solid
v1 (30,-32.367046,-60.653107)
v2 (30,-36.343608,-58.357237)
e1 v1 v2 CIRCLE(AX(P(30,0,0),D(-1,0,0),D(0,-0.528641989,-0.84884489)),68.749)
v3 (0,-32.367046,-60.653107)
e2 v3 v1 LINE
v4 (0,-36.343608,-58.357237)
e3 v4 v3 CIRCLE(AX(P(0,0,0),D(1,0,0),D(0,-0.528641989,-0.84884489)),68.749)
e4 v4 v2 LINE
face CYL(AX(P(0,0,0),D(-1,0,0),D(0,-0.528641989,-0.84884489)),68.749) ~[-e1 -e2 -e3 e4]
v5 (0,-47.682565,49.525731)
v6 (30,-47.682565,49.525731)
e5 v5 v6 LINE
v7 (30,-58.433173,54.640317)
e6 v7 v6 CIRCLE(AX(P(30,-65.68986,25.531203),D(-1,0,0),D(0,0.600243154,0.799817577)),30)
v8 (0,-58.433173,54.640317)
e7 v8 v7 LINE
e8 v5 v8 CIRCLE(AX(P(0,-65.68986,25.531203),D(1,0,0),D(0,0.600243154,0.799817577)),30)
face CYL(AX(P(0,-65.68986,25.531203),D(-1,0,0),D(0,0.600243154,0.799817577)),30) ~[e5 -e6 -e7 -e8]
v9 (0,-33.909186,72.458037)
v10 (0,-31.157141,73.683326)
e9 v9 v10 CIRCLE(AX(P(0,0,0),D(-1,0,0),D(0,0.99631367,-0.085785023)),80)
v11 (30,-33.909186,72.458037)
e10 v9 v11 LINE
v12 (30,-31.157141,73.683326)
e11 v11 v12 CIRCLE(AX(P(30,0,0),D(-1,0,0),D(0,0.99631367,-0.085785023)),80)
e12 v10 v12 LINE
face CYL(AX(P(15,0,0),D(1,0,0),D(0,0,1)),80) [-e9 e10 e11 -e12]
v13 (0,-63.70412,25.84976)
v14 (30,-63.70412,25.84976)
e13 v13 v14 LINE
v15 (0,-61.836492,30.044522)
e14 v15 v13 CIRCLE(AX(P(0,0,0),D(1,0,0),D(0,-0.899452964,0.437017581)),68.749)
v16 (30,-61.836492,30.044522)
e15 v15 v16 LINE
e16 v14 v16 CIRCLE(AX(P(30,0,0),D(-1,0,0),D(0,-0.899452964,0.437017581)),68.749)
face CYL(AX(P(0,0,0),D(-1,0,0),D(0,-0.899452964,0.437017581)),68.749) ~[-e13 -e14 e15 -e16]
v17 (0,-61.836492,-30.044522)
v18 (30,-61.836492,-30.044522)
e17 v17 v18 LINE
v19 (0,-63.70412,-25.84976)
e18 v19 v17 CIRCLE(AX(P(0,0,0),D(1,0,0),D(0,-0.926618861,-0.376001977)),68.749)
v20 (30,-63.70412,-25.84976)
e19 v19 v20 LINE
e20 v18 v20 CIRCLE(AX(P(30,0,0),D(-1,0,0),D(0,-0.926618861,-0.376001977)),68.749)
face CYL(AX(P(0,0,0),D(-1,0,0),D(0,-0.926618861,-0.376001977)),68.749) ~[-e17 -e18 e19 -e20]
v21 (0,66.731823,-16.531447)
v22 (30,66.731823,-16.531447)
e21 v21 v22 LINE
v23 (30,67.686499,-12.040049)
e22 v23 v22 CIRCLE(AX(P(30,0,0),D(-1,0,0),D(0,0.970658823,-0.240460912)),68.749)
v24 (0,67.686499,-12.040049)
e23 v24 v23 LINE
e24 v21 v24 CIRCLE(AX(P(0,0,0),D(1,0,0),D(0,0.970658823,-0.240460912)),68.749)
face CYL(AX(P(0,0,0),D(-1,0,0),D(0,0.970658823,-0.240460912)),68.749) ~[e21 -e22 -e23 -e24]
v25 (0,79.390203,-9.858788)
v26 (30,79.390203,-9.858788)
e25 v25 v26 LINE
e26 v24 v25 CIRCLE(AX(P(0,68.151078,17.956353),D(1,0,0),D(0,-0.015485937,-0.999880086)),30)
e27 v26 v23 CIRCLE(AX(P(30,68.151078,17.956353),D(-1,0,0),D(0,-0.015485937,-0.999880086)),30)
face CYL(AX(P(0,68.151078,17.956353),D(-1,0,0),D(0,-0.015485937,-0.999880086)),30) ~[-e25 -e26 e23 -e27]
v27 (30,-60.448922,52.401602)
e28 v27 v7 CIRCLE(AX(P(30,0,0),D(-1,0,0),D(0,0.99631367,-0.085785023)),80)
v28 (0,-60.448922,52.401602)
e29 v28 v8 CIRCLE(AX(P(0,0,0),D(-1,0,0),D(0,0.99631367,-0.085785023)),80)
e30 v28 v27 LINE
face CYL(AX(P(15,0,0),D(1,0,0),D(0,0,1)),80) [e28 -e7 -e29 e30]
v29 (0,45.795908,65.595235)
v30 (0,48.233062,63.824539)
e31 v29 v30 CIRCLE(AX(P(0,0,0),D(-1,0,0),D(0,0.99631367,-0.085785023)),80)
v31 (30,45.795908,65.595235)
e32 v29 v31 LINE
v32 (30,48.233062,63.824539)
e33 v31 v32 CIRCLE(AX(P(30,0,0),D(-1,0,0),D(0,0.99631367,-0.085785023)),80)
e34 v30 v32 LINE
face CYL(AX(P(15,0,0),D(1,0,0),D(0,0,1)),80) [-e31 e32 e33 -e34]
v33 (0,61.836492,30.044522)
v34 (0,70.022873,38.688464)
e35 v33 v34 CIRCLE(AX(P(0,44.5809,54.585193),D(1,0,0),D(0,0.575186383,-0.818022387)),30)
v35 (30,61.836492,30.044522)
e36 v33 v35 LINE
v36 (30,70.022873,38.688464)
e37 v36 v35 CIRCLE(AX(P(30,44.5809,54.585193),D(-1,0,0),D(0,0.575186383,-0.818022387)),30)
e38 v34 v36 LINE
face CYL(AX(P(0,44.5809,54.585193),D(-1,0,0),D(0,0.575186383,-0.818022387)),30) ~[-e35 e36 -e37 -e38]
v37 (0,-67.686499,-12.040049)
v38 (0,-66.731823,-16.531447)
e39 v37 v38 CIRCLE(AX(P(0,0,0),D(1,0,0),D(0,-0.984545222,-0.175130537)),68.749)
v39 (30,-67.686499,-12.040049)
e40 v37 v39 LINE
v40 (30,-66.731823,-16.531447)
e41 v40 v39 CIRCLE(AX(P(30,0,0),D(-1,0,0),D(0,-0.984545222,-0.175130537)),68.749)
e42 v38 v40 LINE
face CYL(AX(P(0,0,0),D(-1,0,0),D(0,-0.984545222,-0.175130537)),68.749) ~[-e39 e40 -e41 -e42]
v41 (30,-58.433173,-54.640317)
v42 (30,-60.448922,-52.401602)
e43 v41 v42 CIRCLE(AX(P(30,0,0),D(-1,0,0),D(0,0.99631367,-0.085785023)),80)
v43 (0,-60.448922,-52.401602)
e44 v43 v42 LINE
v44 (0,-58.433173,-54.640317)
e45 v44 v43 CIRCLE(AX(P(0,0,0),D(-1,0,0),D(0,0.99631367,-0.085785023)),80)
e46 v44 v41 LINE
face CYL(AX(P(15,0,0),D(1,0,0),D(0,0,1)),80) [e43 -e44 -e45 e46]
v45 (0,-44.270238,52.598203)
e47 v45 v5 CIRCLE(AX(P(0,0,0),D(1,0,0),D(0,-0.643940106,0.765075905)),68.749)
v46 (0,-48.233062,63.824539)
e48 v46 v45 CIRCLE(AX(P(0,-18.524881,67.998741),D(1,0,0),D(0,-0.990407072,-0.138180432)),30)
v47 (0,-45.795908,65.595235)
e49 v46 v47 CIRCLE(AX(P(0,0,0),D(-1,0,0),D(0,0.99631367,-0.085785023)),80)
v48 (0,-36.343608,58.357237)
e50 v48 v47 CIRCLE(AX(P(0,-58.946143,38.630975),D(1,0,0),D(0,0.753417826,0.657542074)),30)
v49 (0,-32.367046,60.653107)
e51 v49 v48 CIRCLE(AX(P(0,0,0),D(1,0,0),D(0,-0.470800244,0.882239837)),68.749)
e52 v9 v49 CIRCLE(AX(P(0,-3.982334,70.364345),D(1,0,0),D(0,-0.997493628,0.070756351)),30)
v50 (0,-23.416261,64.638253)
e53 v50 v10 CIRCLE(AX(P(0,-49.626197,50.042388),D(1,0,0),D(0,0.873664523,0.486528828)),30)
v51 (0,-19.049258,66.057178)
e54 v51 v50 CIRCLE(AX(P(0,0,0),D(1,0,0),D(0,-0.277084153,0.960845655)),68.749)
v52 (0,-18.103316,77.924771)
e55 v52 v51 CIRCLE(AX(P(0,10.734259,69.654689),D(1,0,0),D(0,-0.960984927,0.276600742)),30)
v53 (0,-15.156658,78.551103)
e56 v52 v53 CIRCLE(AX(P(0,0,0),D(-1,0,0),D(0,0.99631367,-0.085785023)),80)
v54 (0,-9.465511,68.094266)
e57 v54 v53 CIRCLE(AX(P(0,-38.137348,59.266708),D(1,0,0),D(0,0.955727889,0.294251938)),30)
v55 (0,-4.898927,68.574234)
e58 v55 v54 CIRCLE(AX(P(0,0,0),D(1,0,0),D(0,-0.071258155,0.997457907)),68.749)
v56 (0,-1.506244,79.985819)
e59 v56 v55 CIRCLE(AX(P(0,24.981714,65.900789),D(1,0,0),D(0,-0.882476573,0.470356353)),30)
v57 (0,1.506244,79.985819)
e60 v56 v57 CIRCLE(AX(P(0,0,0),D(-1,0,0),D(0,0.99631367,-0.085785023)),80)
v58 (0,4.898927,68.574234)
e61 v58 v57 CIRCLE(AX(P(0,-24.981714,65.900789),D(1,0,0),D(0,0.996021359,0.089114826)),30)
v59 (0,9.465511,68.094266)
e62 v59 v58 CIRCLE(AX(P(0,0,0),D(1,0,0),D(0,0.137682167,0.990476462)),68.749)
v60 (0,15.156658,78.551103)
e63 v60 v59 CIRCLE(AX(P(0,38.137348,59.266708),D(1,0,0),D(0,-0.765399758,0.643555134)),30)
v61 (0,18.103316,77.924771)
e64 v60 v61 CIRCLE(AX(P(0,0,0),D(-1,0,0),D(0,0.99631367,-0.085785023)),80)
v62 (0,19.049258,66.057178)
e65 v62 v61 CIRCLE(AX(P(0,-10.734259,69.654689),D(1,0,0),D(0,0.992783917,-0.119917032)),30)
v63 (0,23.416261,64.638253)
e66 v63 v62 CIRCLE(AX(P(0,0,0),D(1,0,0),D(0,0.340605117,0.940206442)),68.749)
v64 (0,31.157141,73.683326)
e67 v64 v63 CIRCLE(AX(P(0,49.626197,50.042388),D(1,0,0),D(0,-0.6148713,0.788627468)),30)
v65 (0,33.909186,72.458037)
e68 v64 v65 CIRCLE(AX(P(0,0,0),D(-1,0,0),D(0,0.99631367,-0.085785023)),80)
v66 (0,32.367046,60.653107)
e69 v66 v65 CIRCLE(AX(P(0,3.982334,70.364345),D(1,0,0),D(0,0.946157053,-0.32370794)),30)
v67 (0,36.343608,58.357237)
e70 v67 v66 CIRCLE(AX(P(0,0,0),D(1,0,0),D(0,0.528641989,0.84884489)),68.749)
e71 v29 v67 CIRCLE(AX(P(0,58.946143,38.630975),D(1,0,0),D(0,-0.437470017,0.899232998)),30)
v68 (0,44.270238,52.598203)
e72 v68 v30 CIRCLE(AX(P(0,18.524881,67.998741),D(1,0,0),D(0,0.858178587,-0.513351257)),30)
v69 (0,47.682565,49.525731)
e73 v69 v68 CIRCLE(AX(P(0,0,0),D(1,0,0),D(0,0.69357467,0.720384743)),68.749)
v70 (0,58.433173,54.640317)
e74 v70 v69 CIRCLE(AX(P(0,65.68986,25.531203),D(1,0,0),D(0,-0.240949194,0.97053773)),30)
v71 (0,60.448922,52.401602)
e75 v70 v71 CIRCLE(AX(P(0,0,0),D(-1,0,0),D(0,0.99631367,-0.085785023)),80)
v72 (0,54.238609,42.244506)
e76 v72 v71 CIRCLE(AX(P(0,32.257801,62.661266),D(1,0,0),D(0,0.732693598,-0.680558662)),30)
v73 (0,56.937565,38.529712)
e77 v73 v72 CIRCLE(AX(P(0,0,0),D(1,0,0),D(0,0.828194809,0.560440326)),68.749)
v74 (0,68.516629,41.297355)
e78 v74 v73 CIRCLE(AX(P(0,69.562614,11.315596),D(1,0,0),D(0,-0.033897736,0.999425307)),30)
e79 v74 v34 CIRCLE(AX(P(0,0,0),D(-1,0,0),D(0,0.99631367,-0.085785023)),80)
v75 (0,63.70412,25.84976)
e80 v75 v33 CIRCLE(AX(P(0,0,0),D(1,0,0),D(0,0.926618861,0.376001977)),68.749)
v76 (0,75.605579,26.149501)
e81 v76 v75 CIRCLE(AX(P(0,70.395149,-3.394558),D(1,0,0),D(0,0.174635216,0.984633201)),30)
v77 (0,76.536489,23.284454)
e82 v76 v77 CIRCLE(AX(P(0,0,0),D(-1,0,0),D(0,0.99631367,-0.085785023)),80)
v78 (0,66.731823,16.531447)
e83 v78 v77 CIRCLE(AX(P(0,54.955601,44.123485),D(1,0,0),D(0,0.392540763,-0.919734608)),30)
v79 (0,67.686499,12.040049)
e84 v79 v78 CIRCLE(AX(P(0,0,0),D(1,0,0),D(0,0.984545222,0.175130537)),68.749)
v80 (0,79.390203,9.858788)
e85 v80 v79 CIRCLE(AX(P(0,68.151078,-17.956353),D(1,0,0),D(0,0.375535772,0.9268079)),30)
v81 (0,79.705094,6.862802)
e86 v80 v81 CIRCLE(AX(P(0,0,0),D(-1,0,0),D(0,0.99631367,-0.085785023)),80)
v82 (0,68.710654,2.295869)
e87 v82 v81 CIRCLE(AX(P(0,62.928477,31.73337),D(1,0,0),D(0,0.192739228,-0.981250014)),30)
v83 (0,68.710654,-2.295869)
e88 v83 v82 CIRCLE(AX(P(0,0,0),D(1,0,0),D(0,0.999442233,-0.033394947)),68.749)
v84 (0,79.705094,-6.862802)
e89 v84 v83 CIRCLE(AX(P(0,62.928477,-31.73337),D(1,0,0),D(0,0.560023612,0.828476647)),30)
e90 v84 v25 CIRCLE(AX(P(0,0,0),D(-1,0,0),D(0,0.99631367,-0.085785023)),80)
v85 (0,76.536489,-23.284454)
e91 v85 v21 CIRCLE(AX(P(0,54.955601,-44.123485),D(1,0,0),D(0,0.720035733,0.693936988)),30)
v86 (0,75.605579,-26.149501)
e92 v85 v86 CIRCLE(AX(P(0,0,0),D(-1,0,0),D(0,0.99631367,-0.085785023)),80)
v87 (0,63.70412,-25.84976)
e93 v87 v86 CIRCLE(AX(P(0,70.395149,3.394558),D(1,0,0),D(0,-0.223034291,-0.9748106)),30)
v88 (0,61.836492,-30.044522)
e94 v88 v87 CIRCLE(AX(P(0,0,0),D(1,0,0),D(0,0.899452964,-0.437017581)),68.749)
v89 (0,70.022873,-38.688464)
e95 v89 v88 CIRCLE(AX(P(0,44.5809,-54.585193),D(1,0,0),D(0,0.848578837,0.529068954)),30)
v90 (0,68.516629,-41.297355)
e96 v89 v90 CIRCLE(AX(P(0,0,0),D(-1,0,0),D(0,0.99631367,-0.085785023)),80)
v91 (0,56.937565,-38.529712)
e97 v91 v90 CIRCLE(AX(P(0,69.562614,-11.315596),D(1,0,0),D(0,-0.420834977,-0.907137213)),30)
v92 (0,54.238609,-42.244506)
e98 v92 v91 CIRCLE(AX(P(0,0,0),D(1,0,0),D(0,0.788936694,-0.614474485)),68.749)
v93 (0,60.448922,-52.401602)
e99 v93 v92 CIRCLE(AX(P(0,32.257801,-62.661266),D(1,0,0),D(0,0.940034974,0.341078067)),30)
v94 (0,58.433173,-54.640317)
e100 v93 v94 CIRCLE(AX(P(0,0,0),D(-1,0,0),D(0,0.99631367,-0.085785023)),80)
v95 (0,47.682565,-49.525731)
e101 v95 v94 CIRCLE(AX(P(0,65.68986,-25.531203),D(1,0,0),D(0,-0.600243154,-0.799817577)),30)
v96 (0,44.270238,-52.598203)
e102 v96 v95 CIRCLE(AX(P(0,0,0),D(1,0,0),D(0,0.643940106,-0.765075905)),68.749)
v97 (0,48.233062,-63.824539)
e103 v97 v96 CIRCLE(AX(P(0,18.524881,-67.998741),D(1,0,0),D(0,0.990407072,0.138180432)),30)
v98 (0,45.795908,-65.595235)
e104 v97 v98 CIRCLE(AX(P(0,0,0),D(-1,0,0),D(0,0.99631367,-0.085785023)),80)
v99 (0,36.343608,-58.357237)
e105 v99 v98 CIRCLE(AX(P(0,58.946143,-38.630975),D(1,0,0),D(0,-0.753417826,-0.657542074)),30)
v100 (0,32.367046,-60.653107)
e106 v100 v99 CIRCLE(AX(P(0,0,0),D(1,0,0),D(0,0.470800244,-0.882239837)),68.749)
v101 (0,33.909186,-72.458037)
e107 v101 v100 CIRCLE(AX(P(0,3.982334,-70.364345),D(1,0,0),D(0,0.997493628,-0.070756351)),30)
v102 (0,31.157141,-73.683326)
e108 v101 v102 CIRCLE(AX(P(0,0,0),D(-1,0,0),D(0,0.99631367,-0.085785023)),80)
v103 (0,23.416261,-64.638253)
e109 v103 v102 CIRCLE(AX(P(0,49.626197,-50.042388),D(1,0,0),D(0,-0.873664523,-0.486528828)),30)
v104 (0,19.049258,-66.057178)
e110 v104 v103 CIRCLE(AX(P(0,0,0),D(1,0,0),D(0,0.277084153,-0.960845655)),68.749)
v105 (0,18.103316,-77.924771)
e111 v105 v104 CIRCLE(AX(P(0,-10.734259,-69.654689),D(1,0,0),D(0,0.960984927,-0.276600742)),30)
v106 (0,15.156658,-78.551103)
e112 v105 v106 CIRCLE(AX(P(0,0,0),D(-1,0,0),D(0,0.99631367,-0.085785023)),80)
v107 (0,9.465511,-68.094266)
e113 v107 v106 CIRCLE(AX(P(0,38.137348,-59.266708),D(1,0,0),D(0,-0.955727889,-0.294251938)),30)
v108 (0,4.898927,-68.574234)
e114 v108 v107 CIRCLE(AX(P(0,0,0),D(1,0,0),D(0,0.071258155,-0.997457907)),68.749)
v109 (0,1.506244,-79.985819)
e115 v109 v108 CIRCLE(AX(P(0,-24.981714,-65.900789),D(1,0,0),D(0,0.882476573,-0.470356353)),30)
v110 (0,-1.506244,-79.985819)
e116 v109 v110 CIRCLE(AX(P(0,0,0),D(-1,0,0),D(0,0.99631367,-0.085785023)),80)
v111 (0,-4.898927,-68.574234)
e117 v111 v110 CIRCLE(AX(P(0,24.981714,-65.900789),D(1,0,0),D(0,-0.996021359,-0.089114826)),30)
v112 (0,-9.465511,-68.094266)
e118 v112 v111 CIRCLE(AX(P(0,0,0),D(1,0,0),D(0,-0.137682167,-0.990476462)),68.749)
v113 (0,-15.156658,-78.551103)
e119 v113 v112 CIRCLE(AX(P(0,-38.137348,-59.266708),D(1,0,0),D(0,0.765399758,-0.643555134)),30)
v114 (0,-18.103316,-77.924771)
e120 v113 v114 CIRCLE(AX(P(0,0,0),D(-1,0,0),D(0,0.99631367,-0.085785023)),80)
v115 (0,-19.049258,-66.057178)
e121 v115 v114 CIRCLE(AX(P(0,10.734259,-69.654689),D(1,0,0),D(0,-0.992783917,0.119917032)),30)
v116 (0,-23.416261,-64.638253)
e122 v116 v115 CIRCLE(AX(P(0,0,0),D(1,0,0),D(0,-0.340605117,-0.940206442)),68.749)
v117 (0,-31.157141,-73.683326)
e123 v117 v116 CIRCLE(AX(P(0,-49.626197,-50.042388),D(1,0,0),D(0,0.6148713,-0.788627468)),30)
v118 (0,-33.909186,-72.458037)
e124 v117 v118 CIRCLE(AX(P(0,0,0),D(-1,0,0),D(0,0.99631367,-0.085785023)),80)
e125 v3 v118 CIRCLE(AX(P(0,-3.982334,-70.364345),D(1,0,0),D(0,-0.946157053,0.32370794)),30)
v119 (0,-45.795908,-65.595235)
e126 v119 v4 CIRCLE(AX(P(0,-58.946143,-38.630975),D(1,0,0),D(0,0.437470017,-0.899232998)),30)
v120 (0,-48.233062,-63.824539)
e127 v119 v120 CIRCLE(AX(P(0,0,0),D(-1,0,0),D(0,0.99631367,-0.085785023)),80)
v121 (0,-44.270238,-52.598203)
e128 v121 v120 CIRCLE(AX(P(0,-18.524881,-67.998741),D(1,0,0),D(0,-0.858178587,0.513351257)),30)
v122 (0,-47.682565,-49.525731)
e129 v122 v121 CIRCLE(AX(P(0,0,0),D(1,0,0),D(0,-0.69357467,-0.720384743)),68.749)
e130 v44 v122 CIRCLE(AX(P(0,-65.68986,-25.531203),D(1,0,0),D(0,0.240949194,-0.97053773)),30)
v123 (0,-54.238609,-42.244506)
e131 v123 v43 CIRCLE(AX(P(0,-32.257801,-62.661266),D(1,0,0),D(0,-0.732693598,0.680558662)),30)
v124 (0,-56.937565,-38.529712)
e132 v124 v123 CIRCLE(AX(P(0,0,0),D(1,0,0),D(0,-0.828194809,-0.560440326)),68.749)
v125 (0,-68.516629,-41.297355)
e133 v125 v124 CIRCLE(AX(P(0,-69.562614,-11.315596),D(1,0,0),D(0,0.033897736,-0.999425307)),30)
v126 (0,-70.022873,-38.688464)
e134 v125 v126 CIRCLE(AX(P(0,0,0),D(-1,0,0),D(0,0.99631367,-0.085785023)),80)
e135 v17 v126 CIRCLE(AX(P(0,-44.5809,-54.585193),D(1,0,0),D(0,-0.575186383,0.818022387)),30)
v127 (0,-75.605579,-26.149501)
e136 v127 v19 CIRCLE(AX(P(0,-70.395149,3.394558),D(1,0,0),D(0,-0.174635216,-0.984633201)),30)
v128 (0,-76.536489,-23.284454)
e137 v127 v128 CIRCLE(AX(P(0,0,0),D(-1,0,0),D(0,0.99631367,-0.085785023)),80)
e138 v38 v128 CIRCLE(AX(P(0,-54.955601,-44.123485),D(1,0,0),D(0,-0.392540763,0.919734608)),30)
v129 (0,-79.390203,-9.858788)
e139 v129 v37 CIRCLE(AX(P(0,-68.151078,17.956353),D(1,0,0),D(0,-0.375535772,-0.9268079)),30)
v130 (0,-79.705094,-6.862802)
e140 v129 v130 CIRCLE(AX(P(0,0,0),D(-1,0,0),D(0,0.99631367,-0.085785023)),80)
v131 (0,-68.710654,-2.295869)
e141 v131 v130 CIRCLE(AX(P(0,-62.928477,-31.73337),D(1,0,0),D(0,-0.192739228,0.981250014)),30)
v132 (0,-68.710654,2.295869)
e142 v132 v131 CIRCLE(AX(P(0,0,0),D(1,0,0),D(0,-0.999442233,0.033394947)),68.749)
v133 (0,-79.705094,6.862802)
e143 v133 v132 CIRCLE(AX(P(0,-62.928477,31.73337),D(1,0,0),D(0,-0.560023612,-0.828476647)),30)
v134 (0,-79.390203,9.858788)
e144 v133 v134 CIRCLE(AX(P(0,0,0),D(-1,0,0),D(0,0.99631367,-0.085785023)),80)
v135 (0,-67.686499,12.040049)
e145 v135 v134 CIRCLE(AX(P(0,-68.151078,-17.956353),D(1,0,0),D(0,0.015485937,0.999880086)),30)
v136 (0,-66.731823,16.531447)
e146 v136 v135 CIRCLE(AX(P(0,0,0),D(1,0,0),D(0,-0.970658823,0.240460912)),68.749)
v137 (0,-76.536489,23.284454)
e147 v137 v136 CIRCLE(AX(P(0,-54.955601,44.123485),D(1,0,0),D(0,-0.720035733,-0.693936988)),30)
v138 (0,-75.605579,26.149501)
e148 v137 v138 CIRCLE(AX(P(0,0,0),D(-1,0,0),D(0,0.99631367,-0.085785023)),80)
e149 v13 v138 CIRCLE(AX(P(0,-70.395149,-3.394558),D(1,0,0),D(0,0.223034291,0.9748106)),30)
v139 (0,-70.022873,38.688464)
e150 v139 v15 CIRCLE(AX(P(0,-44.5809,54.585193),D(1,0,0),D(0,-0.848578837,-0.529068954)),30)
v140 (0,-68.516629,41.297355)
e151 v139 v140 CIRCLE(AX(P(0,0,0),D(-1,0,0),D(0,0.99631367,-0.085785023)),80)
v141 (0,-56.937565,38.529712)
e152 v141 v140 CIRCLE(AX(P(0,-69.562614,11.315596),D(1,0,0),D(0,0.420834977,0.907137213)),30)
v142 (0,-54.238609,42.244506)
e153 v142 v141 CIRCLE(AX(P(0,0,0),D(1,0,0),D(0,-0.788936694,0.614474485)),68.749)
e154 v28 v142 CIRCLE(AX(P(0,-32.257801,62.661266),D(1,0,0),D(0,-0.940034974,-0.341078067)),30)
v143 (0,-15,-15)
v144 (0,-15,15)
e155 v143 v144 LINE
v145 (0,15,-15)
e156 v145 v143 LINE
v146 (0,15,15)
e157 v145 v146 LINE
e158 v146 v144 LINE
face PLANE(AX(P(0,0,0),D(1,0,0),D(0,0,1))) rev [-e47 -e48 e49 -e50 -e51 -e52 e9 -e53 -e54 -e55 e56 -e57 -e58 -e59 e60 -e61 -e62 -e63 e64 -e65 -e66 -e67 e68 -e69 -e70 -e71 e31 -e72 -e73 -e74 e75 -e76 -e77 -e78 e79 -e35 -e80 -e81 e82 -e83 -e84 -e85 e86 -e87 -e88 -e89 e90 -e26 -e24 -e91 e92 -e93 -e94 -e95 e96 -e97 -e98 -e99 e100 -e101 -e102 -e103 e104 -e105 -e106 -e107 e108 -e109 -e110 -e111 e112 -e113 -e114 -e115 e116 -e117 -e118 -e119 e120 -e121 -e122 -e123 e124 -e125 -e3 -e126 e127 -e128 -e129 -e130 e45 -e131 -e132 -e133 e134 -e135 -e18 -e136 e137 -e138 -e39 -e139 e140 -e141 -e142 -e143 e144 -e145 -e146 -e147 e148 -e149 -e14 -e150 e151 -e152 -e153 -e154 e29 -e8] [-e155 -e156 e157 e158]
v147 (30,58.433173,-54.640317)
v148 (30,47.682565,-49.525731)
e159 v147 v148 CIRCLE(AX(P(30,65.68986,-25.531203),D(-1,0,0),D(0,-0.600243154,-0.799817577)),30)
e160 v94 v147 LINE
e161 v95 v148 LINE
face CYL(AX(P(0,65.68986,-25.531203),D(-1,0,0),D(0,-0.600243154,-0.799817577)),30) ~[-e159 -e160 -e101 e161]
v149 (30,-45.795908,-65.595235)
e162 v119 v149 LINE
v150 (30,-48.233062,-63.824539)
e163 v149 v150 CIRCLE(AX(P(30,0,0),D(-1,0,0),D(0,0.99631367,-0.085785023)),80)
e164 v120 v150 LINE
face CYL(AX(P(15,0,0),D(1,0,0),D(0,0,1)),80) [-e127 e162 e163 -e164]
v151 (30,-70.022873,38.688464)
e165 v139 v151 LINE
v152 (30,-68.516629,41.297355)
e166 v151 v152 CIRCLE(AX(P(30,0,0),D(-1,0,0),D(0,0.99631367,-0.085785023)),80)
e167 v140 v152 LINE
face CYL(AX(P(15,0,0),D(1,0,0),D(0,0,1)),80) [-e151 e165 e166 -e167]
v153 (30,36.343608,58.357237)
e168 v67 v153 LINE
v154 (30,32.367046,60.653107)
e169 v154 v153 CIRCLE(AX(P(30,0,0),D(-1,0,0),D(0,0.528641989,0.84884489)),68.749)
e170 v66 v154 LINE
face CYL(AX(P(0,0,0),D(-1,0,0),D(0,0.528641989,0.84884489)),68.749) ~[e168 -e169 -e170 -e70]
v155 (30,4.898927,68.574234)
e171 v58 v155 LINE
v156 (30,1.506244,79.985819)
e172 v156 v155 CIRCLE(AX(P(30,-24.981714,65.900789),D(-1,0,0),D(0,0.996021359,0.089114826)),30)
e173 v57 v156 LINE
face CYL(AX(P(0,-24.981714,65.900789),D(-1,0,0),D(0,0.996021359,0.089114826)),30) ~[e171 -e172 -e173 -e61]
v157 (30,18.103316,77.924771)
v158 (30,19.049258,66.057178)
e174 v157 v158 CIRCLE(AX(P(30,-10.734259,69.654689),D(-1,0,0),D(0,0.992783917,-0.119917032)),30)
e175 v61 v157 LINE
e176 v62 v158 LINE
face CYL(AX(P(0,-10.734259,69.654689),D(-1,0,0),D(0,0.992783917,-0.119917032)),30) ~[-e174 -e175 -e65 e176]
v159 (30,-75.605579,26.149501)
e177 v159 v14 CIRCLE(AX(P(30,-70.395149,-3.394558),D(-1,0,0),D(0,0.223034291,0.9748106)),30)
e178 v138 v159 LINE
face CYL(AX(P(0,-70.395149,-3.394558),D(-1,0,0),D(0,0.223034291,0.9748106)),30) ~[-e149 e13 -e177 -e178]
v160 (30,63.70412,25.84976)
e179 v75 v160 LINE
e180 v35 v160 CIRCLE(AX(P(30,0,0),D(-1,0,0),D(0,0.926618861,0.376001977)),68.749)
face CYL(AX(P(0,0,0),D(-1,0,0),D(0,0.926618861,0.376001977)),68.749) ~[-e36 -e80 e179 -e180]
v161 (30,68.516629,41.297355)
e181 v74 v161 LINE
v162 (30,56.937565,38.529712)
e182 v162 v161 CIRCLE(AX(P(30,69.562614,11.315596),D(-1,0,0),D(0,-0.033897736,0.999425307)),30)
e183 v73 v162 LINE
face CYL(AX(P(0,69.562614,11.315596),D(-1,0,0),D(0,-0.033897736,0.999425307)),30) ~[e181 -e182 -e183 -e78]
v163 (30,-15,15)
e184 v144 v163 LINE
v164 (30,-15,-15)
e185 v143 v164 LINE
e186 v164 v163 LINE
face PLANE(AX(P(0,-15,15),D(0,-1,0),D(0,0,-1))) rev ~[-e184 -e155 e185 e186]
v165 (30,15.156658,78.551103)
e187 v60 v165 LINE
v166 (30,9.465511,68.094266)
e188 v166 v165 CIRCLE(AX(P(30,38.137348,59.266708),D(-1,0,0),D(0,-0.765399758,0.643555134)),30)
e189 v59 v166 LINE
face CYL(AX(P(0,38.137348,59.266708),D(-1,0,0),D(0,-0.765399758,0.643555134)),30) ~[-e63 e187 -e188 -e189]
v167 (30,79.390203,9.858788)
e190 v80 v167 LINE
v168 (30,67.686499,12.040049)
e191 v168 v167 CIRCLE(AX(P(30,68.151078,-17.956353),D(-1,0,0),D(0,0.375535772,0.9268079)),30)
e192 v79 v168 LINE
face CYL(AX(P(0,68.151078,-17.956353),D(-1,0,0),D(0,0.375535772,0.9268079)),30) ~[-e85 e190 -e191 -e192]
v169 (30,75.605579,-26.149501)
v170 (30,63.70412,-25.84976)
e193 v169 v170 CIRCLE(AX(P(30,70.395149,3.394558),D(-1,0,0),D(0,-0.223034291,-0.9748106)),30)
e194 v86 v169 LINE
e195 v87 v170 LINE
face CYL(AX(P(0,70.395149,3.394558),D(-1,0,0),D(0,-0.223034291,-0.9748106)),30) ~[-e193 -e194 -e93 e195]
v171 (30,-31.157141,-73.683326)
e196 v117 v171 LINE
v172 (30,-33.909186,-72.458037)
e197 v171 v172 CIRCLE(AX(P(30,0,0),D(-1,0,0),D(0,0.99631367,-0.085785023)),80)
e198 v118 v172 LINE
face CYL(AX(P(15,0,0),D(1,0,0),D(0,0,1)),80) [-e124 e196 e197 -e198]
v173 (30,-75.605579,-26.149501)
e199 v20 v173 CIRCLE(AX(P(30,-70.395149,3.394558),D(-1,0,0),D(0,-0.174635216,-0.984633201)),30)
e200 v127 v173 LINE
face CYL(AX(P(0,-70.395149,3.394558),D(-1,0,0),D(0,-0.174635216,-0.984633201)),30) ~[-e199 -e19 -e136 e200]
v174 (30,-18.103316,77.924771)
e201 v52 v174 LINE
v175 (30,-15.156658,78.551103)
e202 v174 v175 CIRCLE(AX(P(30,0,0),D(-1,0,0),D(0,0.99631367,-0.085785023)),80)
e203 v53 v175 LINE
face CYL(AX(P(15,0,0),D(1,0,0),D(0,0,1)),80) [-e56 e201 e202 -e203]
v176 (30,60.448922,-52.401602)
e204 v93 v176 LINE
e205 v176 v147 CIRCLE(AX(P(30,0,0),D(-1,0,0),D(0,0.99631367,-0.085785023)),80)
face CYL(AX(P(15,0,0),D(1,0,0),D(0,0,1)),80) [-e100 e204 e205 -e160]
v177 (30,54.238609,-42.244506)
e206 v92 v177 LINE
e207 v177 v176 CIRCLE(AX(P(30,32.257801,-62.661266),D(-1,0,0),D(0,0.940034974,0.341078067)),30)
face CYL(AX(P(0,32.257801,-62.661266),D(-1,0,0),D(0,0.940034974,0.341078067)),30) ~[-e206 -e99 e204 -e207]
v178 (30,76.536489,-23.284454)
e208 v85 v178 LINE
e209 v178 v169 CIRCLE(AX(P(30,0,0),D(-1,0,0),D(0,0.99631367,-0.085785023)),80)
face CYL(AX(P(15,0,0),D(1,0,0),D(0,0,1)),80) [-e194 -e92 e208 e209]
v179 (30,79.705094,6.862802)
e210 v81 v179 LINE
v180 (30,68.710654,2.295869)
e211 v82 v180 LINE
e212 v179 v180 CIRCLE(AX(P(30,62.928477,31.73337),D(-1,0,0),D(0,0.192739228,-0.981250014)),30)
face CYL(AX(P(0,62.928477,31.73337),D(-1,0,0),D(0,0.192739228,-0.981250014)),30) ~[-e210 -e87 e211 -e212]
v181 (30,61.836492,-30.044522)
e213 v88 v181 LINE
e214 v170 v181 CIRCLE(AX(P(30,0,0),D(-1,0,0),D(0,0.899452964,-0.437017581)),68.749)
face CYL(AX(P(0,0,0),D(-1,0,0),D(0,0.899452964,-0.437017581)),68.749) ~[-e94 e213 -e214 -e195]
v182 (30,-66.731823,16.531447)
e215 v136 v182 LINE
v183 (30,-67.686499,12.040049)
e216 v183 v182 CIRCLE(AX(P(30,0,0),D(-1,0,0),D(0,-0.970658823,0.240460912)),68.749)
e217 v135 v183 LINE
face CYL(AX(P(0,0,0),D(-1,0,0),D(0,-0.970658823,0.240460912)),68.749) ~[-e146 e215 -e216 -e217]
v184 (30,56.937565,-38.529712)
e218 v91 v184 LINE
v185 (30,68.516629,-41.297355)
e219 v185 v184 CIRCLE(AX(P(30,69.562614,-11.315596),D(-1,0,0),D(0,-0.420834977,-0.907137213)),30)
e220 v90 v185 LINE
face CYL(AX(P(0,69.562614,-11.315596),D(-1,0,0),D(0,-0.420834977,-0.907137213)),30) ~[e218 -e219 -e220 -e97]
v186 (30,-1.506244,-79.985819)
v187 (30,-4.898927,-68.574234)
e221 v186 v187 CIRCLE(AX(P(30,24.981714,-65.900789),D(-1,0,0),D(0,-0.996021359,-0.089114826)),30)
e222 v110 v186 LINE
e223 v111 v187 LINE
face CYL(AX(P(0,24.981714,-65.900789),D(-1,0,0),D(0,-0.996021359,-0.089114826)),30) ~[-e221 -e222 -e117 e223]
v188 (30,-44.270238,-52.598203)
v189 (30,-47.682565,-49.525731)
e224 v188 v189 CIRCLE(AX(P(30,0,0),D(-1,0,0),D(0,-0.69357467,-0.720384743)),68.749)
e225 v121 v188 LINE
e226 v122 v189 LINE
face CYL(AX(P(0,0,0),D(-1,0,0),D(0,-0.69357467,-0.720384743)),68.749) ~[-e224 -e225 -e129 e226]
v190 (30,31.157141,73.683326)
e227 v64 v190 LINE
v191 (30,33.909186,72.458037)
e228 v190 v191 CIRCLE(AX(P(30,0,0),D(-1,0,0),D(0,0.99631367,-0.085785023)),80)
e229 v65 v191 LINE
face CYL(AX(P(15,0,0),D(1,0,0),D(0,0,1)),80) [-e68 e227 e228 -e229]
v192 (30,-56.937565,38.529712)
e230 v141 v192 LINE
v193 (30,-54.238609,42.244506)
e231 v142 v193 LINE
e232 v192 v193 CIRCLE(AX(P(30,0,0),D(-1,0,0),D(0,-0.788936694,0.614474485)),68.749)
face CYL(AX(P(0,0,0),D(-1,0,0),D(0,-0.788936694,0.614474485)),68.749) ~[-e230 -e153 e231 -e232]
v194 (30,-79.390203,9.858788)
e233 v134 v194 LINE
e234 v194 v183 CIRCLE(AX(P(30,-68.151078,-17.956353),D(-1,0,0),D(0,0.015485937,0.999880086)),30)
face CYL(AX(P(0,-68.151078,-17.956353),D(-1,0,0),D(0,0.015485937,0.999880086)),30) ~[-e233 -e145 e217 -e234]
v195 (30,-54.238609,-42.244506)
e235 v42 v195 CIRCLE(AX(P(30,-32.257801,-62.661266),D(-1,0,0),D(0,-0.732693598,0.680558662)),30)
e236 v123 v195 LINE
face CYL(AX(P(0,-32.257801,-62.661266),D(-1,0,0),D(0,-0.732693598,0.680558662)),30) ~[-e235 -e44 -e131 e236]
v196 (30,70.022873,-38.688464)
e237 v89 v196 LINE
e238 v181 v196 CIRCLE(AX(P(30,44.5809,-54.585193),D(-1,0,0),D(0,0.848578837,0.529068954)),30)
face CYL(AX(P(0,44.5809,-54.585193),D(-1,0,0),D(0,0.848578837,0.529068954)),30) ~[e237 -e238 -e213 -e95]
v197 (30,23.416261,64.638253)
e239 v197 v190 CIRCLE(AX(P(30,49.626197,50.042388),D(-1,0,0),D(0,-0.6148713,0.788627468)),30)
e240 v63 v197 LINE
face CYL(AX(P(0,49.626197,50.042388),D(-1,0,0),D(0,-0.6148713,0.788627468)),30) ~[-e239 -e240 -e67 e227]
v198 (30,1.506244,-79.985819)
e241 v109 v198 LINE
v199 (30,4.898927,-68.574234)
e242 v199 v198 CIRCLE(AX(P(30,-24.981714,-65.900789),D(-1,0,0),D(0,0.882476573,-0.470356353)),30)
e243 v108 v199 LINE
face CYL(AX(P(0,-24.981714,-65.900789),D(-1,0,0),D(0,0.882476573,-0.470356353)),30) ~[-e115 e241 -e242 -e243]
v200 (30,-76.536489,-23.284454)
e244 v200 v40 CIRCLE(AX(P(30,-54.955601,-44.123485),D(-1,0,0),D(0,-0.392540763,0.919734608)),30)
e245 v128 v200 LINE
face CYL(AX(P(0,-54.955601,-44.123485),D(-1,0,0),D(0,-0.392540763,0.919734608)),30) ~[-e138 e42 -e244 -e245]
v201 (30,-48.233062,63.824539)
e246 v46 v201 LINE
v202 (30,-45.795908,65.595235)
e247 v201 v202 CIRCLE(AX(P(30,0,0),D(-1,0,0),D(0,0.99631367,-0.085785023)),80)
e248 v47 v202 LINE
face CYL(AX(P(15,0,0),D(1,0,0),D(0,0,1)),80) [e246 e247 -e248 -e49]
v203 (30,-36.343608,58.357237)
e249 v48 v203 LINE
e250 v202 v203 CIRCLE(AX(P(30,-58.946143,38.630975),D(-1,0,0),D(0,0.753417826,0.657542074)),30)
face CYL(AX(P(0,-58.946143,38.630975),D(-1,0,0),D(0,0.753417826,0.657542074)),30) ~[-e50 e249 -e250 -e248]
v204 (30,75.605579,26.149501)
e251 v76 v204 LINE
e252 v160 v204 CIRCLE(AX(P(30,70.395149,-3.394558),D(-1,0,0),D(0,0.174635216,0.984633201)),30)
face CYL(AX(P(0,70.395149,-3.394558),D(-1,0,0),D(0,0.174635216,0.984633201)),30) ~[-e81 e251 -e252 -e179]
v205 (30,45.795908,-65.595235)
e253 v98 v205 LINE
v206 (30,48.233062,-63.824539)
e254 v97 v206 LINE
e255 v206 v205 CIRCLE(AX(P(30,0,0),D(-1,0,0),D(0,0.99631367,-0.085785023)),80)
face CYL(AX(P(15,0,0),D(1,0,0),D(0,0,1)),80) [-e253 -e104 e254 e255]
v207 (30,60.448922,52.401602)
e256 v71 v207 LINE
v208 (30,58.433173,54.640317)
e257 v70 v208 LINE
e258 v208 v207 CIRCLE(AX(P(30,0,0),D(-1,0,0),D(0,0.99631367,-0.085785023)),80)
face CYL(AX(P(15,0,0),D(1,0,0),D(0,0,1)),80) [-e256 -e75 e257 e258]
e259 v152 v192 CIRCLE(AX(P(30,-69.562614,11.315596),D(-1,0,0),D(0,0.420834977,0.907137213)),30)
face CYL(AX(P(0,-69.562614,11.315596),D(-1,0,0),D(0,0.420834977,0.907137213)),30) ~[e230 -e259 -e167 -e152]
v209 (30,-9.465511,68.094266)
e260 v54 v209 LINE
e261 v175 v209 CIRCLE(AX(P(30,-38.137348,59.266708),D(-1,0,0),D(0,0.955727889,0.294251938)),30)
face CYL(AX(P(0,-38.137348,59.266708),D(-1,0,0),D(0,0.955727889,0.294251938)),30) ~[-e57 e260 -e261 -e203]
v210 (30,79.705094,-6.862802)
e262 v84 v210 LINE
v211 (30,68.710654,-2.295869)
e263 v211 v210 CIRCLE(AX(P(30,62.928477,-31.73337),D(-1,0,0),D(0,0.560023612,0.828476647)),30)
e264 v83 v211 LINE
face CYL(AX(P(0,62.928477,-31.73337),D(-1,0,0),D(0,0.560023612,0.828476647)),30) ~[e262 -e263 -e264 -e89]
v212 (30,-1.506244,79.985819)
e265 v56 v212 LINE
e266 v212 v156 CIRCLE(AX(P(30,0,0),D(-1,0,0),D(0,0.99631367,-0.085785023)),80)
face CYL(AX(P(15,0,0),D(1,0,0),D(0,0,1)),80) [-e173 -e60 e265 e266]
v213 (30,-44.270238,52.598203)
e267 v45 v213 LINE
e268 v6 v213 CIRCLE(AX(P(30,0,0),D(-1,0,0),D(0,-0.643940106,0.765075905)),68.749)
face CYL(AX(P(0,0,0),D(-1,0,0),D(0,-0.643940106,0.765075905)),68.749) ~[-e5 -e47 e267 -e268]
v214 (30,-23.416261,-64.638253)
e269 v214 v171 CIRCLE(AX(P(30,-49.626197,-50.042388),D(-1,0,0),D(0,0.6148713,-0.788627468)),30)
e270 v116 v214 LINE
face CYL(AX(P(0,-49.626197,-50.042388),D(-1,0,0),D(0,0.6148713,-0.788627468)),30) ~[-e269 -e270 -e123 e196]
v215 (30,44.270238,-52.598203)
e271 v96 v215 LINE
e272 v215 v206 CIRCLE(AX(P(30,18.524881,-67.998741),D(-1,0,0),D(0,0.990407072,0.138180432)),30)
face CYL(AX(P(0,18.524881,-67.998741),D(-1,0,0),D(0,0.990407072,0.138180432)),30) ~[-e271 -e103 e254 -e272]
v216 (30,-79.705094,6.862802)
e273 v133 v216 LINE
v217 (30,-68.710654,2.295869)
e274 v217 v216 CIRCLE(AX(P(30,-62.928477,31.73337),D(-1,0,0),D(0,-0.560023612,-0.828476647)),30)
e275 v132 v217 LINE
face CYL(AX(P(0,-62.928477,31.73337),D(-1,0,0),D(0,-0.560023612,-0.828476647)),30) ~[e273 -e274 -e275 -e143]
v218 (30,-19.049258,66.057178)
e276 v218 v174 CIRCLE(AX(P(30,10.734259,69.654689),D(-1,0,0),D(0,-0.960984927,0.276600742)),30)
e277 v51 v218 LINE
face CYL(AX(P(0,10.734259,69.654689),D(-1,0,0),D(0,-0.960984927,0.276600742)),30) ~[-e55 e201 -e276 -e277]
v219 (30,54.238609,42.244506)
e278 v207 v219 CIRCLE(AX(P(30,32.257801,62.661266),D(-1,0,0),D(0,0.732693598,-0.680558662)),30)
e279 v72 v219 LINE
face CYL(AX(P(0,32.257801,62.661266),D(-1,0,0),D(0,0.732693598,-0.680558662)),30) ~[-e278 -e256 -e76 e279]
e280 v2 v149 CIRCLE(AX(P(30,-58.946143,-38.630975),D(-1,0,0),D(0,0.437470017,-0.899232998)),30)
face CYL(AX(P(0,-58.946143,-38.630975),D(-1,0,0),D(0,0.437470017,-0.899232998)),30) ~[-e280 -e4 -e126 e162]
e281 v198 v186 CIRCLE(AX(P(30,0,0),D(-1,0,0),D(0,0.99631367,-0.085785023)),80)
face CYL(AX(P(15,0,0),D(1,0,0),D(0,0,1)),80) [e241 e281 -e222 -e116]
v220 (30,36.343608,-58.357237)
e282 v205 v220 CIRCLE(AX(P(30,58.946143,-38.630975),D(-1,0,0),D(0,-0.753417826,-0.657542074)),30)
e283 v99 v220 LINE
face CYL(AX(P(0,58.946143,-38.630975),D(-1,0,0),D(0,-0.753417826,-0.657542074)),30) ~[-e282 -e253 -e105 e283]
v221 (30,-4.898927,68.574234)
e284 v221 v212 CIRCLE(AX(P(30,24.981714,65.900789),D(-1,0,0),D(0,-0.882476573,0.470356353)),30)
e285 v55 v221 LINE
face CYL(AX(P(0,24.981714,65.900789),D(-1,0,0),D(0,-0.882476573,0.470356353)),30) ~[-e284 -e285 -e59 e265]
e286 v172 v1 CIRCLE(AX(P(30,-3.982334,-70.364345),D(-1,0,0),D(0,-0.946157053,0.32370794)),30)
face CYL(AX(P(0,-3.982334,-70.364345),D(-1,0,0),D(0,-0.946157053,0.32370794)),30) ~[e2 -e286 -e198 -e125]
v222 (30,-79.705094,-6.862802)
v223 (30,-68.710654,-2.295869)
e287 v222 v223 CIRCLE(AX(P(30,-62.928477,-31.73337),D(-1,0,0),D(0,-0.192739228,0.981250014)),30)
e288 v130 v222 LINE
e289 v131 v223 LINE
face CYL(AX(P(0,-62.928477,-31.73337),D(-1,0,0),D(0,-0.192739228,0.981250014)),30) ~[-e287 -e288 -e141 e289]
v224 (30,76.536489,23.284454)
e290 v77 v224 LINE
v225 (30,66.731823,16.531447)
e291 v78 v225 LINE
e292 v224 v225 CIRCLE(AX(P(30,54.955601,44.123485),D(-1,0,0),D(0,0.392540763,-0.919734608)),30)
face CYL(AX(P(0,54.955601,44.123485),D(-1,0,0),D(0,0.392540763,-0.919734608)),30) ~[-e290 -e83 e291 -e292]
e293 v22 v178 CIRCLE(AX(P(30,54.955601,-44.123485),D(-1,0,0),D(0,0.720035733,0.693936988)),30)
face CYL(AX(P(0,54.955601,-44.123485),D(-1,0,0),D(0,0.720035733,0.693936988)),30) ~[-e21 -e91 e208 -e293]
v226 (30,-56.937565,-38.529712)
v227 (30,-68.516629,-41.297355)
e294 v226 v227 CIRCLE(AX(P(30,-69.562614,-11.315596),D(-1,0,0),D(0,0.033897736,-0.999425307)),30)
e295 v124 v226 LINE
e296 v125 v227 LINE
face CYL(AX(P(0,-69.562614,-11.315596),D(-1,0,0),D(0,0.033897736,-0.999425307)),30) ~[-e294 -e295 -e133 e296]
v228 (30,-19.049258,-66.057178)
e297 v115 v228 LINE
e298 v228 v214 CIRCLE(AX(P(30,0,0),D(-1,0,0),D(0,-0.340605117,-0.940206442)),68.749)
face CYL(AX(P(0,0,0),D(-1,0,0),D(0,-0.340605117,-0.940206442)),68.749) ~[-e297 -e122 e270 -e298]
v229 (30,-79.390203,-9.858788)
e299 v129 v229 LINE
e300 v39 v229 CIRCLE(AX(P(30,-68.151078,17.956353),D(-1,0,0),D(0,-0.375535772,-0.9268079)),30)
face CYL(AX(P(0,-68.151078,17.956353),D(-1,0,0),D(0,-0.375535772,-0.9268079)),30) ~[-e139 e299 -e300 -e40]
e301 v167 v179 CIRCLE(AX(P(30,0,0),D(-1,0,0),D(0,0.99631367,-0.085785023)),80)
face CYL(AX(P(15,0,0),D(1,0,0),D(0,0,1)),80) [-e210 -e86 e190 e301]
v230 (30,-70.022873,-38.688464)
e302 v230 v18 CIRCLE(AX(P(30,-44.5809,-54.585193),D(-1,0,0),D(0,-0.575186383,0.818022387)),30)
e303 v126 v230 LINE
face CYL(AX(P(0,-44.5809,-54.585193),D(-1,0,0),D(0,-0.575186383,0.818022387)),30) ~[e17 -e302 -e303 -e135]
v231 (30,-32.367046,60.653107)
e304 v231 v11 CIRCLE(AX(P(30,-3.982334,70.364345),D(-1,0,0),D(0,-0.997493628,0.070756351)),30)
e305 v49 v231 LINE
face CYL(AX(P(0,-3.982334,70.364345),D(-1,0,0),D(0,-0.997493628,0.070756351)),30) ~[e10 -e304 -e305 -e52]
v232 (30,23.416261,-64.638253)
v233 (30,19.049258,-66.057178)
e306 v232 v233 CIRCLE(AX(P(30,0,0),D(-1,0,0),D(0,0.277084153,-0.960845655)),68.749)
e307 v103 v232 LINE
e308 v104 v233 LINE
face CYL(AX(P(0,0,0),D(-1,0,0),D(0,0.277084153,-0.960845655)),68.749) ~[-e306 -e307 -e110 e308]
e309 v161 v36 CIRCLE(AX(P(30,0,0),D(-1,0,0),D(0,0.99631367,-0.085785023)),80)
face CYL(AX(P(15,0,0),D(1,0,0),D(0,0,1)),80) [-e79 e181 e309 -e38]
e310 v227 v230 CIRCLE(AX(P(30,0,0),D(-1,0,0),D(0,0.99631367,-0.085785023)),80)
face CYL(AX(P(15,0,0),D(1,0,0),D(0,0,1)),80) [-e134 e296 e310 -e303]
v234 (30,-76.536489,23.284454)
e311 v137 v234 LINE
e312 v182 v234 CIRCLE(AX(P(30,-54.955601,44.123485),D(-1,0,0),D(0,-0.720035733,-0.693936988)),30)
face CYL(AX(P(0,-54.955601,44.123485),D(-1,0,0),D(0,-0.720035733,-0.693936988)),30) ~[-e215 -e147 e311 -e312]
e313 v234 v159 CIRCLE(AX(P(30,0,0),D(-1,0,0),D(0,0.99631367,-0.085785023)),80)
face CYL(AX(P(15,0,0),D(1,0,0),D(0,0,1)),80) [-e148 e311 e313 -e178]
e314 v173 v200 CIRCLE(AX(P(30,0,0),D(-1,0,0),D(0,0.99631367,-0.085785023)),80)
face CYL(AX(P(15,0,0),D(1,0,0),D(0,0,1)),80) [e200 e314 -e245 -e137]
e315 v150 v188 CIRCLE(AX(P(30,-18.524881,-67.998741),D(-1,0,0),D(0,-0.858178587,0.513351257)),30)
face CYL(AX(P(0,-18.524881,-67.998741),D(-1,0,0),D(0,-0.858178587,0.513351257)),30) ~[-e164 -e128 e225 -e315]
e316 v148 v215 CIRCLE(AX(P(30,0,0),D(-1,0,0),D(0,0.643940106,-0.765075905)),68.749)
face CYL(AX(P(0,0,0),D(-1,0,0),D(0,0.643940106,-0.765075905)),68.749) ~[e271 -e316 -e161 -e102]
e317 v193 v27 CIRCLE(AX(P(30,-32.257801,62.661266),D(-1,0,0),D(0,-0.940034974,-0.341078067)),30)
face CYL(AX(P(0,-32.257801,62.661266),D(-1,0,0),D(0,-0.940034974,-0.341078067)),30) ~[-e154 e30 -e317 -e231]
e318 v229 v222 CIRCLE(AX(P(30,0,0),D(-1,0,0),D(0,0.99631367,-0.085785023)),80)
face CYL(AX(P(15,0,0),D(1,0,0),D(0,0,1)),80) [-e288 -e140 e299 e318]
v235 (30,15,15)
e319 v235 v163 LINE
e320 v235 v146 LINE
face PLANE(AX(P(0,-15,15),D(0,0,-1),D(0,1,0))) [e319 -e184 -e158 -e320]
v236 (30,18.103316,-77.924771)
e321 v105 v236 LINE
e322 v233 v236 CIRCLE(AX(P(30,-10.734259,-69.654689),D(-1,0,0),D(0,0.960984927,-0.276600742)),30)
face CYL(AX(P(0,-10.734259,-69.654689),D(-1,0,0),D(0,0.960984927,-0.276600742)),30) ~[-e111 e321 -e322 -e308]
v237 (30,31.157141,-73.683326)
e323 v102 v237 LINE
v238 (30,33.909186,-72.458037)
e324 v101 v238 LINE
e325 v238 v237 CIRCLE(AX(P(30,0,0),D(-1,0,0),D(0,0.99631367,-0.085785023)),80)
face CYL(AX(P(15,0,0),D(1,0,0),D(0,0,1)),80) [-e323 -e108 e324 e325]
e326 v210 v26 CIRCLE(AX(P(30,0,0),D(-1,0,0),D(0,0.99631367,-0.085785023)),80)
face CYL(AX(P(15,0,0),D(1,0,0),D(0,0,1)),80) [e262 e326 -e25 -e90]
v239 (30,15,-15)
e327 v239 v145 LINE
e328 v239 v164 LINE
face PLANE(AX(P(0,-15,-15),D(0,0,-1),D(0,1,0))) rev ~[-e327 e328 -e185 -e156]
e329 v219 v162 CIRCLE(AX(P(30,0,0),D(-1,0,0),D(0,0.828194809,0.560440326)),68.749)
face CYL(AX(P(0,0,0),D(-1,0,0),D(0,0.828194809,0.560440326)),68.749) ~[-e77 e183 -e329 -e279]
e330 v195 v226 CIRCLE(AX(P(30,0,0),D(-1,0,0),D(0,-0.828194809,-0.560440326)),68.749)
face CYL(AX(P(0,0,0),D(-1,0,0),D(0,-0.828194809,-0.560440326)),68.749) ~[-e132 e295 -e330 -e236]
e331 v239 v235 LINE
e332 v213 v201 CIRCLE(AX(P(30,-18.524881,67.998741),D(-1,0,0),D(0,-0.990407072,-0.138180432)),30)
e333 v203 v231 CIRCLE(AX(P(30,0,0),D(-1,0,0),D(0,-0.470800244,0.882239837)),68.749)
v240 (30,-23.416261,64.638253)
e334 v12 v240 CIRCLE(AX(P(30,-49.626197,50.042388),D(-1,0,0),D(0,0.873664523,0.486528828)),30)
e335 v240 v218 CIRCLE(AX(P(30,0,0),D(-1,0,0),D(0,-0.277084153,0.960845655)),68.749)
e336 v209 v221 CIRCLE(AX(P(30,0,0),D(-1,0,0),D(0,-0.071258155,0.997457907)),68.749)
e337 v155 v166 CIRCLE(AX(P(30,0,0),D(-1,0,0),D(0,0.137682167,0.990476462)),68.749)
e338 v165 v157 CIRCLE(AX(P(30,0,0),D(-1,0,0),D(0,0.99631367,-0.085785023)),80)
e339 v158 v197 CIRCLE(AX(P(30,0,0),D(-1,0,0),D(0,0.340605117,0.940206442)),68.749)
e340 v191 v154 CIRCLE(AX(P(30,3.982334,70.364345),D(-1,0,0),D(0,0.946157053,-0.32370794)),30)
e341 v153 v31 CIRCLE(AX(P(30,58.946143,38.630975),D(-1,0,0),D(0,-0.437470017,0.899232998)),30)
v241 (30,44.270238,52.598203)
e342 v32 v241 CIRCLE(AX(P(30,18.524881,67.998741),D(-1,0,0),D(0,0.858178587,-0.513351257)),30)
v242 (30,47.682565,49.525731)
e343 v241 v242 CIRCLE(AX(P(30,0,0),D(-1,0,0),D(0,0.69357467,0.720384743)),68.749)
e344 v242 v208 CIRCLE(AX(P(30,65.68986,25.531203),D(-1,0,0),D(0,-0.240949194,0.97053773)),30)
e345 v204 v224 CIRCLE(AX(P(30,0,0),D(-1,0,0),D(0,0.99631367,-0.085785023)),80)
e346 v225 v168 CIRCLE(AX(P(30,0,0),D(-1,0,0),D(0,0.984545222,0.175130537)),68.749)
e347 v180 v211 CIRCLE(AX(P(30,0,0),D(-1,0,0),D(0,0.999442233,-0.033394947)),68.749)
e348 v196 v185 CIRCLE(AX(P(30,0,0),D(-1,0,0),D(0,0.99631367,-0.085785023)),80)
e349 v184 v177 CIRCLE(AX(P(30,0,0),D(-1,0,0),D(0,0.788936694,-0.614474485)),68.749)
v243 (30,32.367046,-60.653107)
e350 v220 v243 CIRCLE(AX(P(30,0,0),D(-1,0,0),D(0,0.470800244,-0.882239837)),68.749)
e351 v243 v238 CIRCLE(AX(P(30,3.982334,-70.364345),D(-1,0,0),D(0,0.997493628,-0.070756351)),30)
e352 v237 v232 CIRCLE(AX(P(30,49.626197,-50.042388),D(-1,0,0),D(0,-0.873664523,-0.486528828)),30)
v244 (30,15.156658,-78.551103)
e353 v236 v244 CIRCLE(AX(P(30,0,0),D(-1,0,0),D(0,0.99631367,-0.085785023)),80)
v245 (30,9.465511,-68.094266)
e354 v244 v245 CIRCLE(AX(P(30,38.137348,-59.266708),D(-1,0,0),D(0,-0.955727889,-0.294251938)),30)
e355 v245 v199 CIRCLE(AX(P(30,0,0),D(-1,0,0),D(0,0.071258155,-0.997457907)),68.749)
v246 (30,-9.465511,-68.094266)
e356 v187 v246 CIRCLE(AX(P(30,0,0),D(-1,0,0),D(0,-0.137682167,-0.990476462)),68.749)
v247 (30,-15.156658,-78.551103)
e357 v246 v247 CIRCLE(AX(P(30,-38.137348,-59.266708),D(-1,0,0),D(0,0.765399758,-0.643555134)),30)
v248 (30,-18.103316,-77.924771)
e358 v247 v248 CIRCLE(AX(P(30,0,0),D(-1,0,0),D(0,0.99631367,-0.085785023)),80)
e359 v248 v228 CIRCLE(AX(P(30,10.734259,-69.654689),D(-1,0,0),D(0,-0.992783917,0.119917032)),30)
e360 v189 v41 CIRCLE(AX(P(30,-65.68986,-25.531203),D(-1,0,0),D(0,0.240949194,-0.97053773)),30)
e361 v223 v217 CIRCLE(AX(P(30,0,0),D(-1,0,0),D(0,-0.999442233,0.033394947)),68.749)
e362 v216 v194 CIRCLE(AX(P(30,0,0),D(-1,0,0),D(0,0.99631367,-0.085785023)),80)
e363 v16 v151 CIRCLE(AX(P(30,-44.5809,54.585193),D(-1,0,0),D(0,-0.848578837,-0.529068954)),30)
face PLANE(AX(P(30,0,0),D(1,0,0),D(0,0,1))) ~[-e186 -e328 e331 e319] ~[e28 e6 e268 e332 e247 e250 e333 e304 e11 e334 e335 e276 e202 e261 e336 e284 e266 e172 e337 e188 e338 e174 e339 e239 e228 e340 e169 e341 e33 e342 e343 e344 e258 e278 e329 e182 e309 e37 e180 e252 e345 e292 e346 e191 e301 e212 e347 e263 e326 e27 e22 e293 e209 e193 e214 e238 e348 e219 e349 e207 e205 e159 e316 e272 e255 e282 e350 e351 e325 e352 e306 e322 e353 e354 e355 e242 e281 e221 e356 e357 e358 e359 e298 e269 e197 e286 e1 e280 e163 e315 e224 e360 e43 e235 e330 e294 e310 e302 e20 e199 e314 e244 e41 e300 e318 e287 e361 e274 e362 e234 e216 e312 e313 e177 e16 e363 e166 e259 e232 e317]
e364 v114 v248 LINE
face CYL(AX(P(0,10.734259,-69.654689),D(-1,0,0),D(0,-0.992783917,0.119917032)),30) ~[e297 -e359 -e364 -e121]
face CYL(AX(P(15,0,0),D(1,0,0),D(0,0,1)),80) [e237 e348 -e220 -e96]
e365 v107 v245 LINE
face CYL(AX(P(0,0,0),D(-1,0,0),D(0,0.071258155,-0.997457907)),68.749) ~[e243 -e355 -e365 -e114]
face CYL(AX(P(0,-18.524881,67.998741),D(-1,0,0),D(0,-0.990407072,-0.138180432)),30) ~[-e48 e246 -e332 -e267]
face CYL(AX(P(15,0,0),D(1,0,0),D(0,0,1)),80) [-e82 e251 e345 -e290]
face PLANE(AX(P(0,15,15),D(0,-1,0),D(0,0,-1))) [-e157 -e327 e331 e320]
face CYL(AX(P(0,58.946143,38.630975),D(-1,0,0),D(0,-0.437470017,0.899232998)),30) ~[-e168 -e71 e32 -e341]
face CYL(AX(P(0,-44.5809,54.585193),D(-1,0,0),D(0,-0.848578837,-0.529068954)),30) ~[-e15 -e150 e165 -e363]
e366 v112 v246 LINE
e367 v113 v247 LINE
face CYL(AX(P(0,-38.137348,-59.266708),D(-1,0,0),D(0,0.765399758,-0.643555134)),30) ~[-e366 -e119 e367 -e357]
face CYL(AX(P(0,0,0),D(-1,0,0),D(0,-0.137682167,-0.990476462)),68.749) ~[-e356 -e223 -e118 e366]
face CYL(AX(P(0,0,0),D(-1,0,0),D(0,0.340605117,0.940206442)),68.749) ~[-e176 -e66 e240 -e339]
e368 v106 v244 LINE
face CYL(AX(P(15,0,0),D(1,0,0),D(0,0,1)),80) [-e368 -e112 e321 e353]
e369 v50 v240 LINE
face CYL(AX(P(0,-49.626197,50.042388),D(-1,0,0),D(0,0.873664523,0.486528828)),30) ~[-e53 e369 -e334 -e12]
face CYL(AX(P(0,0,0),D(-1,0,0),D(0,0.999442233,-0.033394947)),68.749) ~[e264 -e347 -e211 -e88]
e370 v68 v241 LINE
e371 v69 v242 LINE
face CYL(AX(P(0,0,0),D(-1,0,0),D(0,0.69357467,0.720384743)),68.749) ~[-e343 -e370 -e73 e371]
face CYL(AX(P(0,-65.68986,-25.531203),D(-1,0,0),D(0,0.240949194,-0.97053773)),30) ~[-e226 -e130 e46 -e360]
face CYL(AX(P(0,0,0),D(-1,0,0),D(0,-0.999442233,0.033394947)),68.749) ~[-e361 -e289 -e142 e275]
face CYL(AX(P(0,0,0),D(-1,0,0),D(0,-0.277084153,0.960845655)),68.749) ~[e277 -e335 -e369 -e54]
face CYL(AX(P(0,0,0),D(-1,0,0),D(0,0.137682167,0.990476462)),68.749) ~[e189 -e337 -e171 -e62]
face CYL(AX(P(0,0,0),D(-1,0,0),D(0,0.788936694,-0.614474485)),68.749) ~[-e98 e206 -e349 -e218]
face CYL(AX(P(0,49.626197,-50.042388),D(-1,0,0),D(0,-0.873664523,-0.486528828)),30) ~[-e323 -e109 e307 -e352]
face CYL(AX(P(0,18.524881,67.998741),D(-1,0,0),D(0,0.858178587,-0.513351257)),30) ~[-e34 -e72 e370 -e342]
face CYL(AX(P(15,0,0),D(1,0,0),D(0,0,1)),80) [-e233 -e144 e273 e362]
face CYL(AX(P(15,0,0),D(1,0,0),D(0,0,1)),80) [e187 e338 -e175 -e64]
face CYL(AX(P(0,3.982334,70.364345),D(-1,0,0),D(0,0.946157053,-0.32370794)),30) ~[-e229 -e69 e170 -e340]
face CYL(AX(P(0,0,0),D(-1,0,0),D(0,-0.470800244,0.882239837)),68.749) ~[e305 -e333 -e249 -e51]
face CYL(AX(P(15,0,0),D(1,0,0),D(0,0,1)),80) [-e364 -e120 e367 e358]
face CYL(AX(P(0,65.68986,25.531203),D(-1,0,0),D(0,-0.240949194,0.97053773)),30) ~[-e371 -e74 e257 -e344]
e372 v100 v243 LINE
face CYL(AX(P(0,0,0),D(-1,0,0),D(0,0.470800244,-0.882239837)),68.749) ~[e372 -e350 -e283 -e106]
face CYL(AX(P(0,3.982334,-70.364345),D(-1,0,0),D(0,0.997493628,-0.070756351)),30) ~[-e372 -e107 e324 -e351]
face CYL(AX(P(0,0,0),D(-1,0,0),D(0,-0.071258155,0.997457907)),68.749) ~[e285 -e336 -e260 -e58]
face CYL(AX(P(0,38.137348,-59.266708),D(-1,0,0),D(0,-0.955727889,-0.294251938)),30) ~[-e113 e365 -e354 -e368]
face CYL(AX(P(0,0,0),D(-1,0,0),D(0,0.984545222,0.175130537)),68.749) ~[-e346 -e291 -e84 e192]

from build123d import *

# Parameters (mm, degrees)
BASPROSKE_W     = 30
BASPROSKE_H     = 80
TOOTHCUT_DEPTH  = 118.046999107
TEETHCUTS_COUNT = 30
TEETHCUTS_ANGLE = 348
BORSKE_W        = 30
BORSKE_H        = 30
BORE_DEPTH      = 50.0000508


with BuildPart() as part:
    # BasProSke → Base-Revolve (revolve)
    with BuildSketch(Plane(origin=(0, 0, 0), x_dir=(1, 0, 0), z_dir=(0, 1, 0)), mode=Mode.PRIVATE) as base_revolve_sk:
        with Locations((15, 40)):
            Rectangle(BASPROSKE_W, BASPROSKE_H)
    revolve(base_revolve_sk.sketch.rotate(Axis((-10, 0, 0), (1, 0, 0)), 180), axis=Axis((-10, 0, 0), (1, 0, 0)))

    # TooCutSke → ToothCut (cut, through all)
    with BuildSketch(Plane(origin=(0, 0, 0), x_dir=(0, 0, -1), z_dir=(1, 0, 0))):
        with BuildLine():
            ThreePointArc((2.295869197, 68.710654091), (0, 68.749), (-2.295869197, 68.710654091))
            ThreePointArc((-2.295869197, 68.710654091), (-4.034057509, 74.450113805), (-6.879070213, 79.729185611))
            ThreePointArc((-6.879070213, 79.729185611), (0, 80.0254), (6.879070213, 79.729185611))
            ThreePointArc((6.879070213, 79.729185611), (4.034057509, 74.450113805), (2.295869197, 68.710654091))
        make_face()
    toothcut = extrude(amount=TOOTHCUT_DEPTH, mode=Mode.SUBTRACT)

    # TeethCuts: ToothCut ×30 about axis
    teethcuts_axis = Axis((-10, 0, 0), (1, 0, 0))
    for i in range(1, TEETHCUTS_COUNT):
        add(toothcut.rotate(teethcuts_axis, i * TEETHCUTS_ANGLE / (TEETHCUTS_COUNT - 1)), mode=Mode.SUBTRACT)

    # BorSke → Bore (cut, symmetric)
    with BuildSketch(Plane(origin=(0, 0, 0), x_dir=(0, 0, -1), z_dir=(1, 0, 0))):
        Rectangle(BORSKE_W, BORSKE_H)
    extrude(amount=BORE_DEPTH, both=True, mode=Mode.SUBTRACT)


solid = part.part
